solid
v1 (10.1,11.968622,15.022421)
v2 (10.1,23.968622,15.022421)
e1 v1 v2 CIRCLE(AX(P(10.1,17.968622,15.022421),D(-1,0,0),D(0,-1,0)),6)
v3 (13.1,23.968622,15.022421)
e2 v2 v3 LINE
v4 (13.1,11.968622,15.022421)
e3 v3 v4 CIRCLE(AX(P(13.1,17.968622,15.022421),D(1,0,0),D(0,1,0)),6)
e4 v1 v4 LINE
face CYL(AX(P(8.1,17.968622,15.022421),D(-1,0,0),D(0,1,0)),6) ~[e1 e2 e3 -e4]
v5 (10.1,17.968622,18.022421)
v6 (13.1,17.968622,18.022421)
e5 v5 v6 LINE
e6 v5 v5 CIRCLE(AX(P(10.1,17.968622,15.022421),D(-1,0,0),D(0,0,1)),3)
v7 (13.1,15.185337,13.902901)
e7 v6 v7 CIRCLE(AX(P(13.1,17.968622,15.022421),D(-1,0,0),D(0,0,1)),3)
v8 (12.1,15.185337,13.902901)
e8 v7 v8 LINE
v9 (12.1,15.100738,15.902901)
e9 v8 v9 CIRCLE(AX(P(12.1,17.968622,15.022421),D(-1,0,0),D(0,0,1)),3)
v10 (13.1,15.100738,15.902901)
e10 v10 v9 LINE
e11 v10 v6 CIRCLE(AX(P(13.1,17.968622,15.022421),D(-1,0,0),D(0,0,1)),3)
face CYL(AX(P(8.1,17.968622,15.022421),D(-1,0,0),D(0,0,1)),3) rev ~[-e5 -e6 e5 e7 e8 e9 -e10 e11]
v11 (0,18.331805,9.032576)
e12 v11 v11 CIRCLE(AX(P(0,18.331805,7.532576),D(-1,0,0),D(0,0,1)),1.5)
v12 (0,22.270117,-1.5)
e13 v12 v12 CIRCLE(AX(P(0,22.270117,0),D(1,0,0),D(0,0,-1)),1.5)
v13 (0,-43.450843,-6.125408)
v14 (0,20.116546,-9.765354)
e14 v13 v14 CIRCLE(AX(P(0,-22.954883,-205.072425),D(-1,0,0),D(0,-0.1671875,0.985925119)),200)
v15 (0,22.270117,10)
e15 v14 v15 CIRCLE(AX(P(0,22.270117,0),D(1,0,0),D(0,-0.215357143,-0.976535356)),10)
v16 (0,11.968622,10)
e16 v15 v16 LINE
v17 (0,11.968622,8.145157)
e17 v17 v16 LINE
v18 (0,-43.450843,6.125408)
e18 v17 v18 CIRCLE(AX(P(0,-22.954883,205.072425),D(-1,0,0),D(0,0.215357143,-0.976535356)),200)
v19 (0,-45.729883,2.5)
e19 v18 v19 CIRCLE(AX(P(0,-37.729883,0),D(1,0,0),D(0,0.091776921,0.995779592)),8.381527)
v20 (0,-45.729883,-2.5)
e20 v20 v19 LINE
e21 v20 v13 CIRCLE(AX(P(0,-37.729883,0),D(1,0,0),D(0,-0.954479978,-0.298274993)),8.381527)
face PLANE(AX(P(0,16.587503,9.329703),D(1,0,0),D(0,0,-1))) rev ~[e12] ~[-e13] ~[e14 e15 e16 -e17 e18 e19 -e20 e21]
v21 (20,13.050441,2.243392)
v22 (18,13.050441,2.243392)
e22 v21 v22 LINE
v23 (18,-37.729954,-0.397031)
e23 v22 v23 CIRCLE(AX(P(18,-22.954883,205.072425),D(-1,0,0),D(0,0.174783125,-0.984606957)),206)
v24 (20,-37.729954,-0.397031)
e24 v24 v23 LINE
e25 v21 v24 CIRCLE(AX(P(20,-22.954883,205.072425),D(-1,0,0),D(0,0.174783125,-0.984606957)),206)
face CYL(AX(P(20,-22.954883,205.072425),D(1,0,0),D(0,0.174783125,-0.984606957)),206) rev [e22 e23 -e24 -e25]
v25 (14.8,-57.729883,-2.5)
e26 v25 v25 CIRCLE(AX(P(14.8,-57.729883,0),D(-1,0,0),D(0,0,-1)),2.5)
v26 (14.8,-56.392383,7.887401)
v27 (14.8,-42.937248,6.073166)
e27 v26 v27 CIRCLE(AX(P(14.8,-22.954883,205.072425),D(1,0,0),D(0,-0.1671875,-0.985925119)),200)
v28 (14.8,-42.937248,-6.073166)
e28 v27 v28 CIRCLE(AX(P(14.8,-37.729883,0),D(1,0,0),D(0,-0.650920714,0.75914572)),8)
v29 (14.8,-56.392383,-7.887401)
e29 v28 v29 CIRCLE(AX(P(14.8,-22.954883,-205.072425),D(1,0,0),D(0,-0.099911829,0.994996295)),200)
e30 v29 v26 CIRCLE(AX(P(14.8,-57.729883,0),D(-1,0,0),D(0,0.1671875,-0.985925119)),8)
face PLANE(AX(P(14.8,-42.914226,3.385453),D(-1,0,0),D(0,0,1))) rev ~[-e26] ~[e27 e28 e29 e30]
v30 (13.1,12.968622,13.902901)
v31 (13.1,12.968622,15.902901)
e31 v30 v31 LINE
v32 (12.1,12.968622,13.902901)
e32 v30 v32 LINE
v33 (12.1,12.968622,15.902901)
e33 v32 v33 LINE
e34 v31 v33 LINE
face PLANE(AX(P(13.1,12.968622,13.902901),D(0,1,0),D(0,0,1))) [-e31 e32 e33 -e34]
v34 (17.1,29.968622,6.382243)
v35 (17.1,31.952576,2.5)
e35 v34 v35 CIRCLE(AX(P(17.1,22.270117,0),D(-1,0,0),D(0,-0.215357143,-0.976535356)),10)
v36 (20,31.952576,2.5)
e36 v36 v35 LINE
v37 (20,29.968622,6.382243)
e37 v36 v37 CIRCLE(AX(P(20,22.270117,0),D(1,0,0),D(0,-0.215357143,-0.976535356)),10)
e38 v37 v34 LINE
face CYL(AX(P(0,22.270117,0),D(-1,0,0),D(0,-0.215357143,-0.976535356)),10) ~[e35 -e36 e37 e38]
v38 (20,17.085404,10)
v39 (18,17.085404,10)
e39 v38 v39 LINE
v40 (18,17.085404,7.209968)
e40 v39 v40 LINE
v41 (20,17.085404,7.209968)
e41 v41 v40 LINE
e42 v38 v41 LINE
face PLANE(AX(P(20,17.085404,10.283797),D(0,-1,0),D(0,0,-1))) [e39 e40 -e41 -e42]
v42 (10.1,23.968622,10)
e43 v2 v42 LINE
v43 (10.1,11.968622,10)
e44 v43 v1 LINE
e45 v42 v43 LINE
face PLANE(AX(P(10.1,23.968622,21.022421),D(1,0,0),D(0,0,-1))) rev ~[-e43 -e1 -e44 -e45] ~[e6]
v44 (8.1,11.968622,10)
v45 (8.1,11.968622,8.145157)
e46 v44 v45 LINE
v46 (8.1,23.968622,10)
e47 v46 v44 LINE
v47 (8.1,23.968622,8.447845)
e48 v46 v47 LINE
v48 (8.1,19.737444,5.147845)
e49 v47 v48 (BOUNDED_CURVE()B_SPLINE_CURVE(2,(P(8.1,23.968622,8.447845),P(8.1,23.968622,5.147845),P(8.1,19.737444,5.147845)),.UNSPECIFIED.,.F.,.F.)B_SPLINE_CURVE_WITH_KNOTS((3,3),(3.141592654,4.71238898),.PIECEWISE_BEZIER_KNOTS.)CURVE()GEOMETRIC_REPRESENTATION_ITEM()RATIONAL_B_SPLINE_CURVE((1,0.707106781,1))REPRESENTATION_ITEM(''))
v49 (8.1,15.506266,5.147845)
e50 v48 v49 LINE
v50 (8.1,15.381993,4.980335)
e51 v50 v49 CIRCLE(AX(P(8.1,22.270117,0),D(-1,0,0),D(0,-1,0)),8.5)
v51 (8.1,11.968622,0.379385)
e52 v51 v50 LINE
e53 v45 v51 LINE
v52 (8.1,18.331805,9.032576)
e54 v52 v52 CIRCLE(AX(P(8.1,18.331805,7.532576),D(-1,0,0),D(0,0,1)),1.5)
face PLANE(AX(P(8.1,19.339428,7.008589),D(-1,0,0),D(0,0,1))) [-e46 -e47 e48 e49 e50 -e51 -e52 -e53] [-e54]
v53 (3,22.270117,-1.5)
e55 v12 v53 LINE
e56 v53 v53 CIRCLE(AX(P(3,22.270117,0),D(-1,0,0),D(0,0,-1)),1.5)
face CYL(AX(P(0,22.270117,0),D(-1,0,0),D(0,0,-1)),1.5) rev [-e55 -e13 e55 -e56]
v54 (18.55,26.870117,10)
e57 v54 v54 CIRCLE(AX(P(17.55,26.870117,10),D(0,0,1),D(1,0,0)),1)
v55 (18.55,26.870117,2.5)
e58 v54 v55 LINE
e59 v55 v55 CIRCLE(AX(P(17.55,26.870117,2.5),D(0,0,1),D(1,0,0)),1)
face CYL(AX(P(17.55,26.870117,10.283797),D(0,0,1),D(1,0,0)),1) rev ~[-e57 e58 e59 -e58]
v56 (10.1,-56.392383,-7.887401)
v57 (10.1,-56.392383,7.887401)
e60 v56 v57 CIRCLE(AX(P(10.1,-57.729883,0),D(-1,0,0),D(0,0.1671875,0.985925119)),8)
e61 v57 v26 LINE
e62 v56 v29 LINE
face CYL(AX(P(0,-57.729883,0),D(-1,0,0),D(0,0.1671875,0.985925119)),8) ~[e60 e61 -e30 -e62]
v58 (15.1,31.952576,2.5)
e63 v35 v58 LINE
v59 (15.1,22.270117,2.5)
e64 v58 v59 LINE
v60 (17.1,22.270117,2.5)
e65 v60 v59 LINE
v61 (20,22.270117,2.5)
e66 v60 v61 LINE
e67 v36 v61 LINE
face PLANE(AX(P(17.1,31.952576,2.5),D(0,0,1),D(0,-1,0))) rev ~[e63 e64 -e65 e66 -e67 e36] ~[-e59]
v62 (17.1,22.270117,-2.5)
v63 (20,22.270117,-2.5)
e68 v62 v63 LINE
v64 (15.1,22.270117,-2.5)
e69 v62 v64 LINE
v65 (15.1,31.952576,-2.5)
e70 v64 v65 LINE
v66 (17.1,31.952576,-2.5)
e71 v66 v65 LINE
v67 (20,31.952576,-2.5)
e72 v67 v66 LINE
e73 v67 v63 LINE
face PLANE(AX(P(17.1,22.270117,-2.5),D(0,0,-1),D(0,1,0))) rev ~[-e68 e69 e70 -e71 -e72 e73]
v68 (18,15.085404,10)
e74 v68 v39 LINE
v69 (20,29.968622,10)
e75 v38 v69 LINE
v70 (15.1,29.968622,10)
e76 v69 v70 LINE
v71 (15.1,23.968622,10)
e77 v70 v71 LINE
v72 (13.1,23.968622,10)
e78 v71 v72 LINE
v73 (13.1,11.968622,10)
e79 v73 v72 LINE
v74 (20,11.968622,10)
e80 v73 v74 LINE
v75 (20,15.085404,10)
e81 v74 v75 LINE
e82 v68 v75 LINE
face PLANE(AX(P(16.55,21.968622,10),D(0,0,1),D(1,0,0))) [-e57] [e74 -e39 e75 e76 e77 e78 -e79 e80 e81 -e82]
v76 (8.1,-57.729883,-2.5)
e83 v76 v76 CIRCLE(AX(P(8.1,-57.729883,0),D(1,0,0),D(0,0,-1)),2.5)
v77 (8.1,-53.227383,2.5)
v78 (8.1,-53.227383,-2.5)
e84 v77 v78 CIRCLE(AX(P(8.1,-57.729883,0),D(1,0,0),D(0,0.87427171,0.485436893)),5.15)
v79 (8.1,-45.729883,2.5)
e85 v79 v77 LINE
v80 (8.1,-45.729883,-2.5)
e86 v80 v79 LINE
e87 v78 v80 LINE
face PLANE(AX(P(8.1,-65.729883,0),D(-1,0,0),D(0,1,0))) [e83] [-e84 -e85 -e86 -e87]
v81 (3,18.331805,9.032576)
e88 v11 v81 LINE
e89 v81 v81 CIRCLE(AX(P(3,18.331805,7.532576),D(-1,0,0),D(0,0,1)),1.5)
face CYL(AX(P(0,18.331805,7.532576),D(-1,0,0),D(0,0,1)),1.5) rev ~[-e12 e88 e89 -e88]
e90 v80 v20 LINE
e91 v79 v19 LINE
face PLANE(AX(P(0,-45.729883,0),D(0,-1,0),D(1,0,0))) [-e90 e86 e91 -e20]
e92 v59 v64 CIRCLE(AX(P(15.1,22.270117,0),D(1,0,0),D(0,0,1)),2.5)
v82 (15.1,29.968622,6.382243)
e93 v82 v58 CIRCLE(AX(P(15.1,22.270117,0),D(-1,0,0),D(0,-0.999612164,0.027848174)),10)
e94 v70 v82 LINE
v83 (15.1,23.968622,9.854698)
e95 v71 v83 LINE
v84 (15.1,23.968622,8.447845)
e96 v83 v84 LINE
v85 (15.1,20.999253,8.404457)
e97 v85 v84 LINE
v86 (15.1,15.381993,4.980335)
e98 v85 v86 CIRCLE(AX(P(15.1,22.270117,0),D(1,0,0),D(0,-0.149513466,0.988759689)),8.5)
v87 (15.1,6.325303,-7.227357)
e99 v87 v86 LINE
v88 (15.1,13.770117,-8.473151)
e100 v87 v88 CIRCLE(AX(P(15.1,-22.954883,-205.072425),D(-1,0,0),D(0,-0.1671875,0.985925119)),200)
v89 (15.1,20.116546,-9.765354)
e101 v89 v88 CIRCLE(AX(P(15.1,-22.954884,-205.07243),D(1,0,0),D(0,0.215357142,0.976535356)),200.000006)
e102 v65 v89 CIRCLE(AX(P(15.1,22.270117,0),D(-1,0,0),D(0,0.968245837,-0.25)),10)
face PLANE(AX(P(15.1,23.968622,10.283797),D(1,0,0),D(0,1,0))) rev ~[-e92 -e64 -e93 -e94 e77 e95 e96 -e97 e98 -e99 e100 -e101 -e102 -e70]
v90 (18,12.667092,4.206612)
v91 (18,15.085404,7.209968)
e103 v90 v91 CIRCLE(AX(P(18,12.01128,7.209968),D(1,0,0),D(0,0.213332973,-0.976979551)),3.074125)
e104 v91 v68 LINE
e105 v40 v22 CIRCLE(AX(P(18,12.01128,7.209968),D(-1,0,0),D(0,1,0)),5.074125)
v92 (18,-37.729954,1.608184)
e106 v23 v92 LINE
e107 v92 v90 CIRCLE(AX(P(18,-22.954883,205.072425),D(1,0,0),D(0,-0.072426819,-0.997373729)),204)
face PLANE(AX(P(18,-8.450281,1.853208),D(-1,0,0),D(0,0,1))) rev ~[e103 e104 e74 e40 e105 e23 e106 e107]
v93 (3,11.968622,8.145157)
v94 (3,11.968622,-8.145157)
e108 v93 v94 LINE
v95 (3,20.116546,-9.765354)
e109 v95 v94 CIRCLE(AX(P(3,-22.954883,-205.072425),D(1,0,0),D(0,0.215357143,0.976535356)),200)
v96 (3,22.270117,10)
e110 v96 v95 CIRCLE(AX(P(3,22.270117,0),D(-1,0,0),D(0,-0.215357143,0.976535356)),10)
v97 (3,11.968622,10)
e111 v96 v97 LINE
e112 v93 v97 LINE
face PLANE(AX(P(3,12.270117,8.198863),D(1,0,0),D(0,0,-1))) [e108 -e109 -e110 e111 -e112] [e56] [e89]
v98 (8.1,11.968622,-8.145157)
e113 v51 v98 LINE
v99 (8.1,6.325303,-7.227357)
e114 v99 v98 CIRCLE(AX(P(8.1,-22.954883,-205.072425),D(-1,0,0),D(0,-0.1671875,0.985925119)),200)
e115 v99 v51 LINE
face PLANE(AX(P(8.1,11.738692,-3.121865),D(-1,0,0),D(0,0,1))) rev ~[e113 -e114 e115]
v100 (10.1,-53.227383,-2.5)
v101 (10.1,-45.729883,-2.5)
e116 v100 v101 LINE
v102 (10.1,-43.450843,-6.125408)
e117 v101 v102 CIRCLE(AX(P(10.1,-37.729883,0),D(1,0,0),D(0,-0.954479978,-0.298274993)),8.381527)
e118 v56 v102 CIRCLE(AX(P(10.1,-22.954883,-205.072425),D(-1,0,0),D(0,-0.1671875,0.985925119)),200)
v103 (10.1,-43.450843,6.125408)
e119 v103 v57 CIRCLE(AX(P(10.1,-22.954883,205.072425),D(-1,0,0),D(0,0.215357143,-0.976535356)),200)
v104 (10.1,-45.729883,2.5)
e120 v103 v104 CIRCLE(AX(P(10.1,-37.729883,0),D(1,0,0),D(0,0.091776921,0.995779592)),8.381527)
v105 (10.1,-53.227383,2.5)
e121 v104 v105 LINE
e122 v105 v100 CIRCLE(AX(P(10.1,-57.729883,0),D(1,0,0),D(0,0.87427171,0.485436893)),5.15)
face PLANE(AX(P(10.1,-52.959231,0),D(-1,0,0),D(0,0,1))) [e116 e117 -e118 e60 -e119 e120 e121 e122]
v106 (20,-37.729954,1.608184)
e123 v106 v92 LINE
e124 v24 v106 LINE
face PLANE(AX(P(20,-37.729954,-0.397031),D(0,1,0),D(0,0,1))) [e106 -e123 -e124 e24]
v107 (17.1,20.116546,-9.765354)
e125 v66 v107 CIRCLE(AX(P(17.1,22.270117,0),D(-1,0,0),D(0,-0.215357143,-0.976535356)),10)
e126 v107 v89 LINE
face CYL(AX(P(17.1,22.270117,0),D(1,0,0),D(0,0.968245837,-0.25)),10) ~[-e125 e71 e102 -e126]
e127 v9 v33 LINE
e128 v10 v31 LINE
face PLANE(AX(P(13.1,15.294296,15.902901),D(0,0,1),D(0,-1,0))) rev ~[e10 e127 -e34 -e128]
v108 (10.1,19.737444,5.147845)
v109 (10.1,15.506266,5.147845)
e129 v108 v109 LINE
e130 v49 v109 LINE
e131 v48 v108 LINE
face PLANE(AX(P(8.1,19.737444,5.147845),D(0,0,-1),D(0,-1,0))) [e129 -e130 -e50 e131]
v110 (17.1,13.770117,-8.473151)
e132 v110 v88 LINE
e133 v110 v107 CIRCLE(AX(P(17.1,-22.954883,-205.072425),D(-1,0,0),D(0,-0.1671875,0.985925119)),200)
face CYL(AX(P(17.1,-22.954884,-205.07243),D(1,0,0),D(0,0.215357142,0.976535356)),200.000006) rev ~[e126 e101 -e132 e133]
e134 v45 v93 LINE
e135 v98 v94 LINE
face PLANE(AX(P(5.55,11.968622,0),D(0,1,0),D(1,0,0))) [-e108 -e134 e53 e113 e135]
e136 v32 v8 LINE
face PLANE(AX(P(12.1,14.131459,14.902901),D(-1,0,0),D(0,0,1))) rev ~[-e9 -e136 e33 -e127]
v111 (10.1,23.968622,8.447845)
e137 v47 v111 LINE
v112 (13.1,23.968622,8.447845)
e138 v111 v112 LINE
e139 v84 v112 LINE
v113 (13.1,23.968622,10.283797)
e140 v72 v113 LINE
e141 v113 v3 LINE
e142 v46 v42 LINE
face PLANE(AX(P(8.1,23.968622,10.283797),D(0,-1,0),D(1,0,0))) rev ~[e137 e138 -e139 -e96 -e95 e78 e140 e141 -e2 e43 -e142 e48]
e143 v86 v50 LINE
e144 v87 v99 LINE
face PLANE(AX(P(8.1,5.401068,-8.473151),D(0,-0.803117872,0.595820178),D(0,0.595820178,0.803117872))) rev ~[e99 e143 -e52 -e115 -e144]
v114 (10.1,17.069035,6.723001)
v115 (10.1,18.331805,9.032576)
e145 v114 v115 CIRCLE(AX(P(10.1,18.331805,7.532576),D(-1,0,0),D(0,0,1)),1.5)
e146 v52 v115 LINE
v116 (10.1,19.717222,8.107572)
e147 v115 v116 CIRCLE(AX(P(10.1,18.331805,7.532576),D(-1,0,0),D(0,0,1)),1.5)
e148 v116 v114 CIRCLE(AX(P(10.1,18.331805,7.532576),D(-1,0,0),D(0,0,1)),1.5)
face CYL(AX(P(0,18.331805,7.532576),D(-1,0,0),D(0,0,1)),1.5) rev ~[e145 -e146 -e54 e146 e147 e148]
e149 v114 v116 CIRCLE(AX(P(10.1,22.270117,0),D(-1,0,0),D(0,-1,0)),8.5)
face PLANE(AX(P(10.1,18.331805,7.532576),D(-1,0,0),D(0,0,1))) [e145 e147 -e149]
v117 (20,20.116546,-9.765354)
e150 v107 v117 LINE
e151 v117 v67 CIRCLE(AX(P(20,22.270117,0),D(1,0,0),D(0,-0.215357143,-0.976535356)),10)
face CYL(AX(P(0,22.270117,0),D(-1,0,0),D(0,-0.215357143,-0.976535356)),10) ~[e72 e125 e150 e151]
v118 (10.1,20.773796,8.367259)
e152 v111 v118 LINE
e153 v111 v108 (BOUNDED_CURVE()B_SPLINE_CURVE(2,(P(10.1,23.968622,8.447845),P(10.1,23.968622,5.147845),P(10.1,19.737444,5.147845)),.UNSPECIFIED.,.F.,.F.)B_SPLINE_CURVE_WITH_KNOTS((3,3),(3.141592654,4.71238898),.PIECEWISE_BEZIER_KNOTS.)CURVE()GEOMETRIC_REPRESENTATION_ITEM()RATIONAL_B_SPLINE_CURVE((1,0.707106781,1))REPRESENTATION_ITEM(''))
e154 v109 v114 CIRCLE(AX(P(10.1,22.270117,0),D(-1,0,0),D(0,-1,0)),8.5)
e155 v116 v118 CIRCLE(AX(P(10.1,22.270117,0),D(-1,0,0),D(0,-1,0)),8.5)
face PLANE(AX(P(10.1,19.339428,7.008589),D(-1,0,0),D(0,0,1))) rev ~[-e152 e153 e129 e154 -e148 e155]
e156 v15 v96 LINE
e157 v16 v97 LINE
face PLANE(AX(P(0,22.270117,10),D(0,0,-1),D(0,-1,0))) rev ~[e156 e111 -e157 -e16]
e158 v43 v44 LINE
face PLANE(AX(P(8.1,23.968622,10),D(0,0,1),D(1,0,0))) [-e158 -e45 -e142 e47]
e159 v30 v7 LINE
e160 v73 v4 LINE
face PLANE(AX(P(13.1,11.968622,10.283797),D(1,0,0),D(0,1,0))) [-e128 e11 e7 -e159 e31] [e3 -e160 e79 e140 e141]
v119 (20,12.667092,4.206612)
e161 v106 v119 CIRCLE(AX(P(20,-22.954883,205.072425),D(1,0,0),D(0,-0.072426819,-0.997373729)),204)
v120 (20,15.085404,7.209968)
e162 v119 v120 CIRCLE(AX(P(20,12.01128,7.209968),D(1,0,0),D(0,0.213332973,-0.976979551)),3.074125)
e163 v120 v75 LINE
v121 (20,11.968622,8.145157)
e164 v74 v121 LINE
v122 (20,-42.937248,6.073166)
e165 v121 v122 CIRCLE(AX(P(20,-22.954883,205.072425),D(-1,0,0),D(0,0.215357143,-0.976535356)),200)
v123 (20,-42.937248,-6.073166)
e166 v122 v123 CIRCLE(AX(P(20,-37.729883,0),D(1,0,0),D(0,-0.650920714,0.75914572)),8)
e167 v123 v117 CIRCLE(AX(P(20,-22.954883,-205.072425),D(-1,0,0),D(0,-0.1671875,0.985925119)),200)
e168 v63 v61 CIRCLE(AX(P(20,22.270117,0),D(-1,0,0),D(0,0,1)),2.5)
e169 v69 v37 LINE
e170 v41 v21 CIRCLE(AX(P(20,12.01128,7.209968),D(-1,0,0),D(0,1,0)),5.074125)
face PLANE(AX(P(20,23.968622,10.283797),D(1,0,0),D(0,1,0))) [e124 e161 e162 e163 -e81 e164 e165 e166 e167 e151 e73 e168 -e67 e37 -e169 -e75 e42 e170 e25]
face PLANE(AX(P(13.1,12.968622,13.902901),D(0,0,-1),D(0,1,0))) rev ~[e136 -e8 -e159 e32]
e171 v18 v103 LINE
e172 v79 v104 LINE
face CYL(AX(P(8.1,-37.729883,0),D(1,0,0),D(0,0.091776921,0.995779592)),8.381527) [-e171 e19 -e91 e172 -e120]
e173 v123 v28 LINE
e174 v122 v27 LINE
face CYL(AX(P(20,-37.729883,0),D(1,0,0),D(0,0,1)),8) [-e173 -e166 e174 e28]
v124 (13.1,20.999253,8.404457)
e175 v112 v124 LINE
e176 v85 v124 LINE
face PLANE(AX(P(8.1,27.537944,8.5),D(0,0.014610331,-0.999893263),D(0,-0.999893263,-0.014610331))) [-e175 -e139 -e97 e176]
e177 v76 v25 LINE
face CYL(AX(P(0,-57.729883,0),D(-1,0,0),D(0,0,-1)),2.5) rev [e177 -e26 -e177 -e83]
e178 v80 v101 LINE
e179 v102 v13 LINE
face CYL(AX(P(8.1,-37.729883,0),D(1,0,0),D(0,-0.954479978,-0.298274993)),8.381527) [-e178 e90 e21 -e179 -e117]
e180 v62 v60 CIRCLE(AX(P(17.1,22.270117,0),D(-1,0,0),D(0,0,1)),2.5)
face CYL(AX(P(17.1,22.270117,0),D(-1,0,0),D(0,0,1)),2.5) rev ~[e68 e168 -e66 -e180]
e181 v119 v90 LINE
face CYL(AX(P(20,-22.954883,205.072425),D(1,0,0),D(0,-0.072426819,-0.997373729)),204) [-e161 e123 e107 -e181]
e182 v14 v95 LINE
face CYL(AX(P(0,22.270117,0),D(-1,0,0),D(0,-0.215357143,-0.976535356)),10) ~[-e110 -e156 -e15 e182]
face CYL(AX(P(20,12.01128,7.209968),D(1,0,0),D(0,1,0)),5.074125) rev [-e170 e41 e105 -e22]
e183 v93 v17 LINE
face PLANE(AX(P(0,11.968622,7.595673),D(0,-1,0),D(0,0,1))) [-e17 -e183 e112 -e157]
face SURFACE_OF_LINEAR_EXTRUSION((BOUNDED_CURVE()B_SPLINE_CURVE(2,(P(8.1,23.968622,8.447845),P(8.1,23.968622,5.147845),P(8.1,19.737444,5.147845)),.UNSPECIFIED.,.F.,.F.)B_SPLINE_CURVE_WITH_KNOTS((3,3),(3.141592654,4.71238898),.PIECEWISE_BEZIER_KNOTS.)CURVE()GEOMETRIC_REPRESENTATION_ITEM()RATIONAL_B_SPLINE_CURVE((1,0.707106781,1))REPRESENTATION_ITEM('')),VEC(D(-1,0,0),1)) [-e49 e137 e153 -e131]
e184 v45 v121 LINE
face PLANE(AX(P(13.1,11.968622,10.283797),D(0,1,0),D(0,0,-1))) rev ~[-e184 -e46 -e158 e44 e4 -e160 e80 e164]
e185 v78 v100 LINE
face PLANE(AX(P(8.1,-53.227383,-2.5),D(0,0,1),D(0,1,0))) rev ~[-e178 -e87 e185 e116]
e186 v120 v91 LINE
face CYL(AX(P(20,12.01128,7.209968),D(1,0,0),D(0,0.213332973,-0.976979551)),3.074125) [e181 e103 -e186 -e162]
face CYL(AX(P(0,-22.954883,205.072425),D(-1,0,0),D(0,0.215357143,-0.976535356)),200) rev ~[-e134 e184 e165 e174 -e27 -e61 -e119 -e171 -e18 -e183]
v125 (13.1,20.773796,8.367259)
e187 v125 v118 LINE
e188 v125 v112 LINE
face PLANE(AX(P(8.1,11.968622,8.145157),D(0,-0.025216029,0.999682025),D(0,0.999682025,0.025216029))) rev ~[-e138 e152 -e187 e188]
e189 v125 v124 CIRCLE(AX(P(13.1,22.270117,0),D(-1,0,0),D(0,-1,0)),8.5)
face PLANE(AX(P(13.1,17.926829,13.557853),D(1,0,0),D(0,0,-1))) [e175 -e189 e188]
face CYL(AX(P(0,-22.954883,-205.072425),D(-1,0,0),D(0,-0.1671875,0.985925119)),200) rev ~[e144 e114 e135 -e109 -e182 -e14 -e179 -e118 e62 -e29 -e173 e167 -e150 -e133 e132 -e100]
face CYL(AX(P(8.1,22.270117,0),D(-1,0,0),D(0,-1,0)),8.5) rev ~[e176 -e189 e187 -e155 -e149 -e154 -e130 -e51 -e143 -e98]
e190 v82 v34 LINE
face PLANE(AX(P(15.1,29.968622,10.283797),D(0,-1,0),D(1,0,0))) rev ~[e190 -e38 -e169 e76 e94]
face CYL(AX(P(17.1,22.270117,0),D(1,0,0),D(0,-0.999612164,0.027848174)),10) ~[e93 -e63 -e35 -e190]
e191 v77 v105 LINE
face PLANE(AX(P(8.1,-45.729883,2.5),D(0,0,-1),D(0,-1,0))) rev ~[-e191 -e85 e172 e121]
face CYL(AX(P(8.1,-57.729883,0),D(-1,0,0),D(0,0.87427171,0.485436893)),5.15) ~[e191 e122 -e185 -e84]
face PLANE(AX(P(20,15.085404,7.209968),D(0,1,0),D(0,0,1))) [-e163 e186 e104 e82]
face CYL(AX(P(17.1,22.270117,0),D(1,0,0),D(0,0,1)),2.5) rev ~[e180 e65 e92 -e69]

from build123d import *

# Parameters (mm, degrees)
SKETCH1_R                = 1.5
SKETCH1_R_2              = 2.5
BOSS_EXTRUDE1_DEPTH      = 20
SKETCH2_W                = 8.1
SKETCH2_H                = 20
SKETCH2_W_2              = 5.2
SKETCH2_W_3              = 5.1
CUT_EXTRUDE1_DEPTH       = 20
CUT_EXTRUDE1_DEPTH_BACK  = 20
CUT_EXTRUDE2_DEPTH       = 9
BOSS_EXTRUDE2_DEPTH      = 11.9
SKETCH5_R                = 3
BOSS_EXTRUDE3_DEPTH      = 5
CUT_EXTRUDE6_DEPTH       = 1
SKETCH13_R               = 2.5
CUT_EXTRUDE7_DEPTH       = 4
BOSS_EXTRUDE4_DEPTH      = 3
CUT_EXTRUDE9_DEPTH       = 3
SKETCH17_W               = 9
SKETCH17_H               = 3.569322199
CUT_EXTRUDE11_DEPTH      = 3
SKETCH18_W               = 5.770974844
SKETCH18_H               = 0.772936936
BOSS_EXTRUDE5_DEPTH      = 6.9
BOSS_EXTRUDE5_DEPTH_BACK = 1
SKETCH19_W               = 5.1
SKETCH19_H               = 16.397725614
CUT_EXTRUDE12_DEPTH      = 0.301495
SKETCH20_W               = 5
SKETCH20_H               = 12.419235667
CUT_EXTRUDE13_DEPTH      = 10
BOSS_EXTRUDE6_DEPTH      = 2
SKETCH23_W               = 4.9
SKETCH23_H               = 6
BOSS_EXTRUDE7_DEPTH      = 4
SKETCH22_R               = 1
CUT_EXTRUDE15_DEPTH      = 8
BOSS_EXTRUDE8_DEPTH      = 2
SKETCH14_R               = 1.5
CUT_EXTRUDE8_DEPTH       = 10.1
CUT_EXTRUDE17_DEPTH      = 8.1
CUT_EXTRUDE17_DEPTH_BACK = 2
CUT_EXTRUDE18_DEPTH      = 2
CUT_EXTRUDE20_DEPTH      = 5.2
SKETCH30_W               = 6.9
SKETCH30_H               = 20
CUT_EXTRUDE21_DEPTH      = 0.283797
CUT_EXTRUDE22_REACH      = 91.699
SKETCH31_W               = 2
SKETCH31_H               = 11.022421386
CUT_EXTRUDE23_DEPTH      = 7


with BuildPart() as part:
    # Sketch1 → Boss-Extrude1 (new body)
    with BuildSketch(Plane(origin=(0, 0, 0), x_dir=(0, 0, -1), z_dir=(1, 0, 0))):
        with BuildLine():
            ThreePointArc((9.765353557, 20.116545894), (0, 32.270117322), (-9.765353557, 20.116545894))
            ThreePointArc((-9.765353557, 20.116545894), (-5.132645827, -18.047253777), (-7.88740095, -56.392382678))
            ThreePointArc((-7.88740095, -56.392382678), (0, -65.729882678), (7.88740095, -56.392382678))
            ThreePointArc((7.88740095, -56.392382678), (5.132645827, -18.047253777), (9.765353557, 20.116545894))
        make_face()
        with Locations((0, 22.270117322)):
            Circle(SKETCH1_R, mode=Mode.SUBTRACT)
        with Locations((0, -57.729882678)):
            Circle(SKETCH1_R_2, mode=Mode.SUBTRACT)
    extrude(amount=BOSS_EXTRUDE1_DEPTH)

    # Sketch2 → Cut-Extrude1 (cut, two sides)
    with BuildSketch(Plane.XY) as cut_extrude1_sk:
        with Locations((4.05, -55.729882678)):
            Rectangle(SKETCH2_W, SKETCH2_H)
        with Locations((17.4, -55.729882678)):
            Rectangle(SKETCH2_W_2, SKETCH2_H)
        with Locations((5.55, 22.270117322)):
            Rectangle(SKETCH2_W_3, SKETCH2_H)
    extrude(amount=CUT_EXTRUDE1_DEPTH, mode=Mode.SUBTRACT)
    extrude(cut_extrude1_sk.sketch, amount=-CUT_EXTRUDE1_DEPTH_BACK, mode=Mode.SUBTRACT)

    # Sketch3 → Cut-Extrude2 (cut)
    with BuildSketch(Plane.ZY.offset(-8.1)):
        with BuildLine():
            Line((8.5, 22.270117322), (8.5, 40.909533312))
            Line((8.5, 40.909533312), (-17.52872033, 40.909533312))
            Line((-17.52872033, 40.909533312), (-17.52872033, 13.770117322))
            Line((-17.52872033, 13.770117322), (0, 13.770117322))
            ThreePointArc((0, 13.770117322), (6.01040764, 16.259709682), (8.5, 22.270117322))
        make_face()
    extrude(amount=-CUT_EXTRUDE2_DEPTH, mode=Mode.SUBTRACT)

    # Sketch4 → Boss-Extrude2 (add, through all)
    with BuildSketch(Plane.ZY.offset(-8.1)):
        Polygon((8.5, 27.537944199), (8.283796844, 12.741558936), (10.283796844, 12.741558936), (10.283796844, 27.537944199), align=None)
    extrude(amount=-BOSS_EXTRUDE2_DEPTH)

    # Sketch5 → Boss-Extrude3 (add)
    with BuildSketch(Plane.ZY.offset(-8.1)):
        with BuildLine():
            Line((8.145156861, 11.968622), (8.447845456, 23.968622))
            Line((8.447845456, 23.968622), (9.854698466, 23.968622))
            Line((9.854698466, 23.968622), (15.022421386, 23.968622))
            ThreePointArc((15.022421386, 23.968622), (21.022421386, 17.968622), (15.022421386, 11.968622))
            Line((15.022421386, 11.968622), (8.145156861, 11.968622))
        make_face()
        with Locations((15.022421386, 17.968622)):
            Circle(SKETCH5_R, mode=Mode.SUBTRACT)
    extrude(amount=-BOSS_EXTRUDE3_DEPTH)

    # Sketch12 → Cut-Extrude6 (cut)
    with BuildSketch(Plane(origin=(13.1, 0, 0), x_dir=(0, 0, -1), z_dir=(1, 0, 0))):
        Polygon((-13.902900694, 14.968622), (-13.902900694, 12.968622), (-15.902900694, 12.968622), (-15.902900694, 14.968622), (-15.902900694, 15.294296094), (-13.902900694, 15.294296094), align=None)
    extrude(amount=-CUT_EXTRUDE6_DEPTH, mode=Mode.SUBTRACT)

    # Sketch13 → Cut-Extrude7 (cut)
    with BuildSketch(Plane.ZY.offset(-17.1)):
        with Locations((0, 22.270117322)):
            Circle(SKETCH13_R)
    extrude(amount=-CUT_EXTRUDE7_DEPTH, mode=Mode.SUBTRACT)

    # Sketch15 → Boss-Extrude4 (add)
    with BuildSketch(Plane.ZY):
        Polygon((10, 22.270117322), (10, 11.968622), (8.145156861, 11.968622), (7.595672539, 11.968622), align=None)
    extrude(amount=-BOSS_EXTRUDE4_DEPTH)

    # Sketch16 → Cut-Extrude9 (cut)
    with BuildSketch(Plane(origin=(20, 0, 0), x_dir=(0, 0, -1), z_dir=(1, 0, 0))):
        with BuildLine():
            Line((-10.283796844, 23.968622), (-9.854698466, 23.968622))
            ThreePointArc((-9.854698466, 23.968622), (-9.349264901, 25.818531871), (-8.5, 27.537944199))
            Line((-8.5, 27.537944199), (-10.283796844, 27.537944199))
            Line((-10.283796844, 27.537944199), (-10.283796844, 23.968622))
        make_face()
    extrude(amount=-CUT_EXTRUDE9_DEPTH, mode=Mode.SUBTRACT)

    # Sketch17 → Cut-Extrude11 (cut)
    with BuildSketch(Plane.XY.offset(10.283796844)):
        with Locations((12.6, 25.7532831)):
            Rectangle(SKETCH17_W, SKETCH17_H)
    extrude(amount=-CUT_EXTRUDE11_DEPTH, mode=Mode.SUBTRACT)

    # Sketch18 → Boss-Extrude5 (add, two sides)
    with BuildSketch(Plane(origin=(13.1, 0, 0), x_dir=(0, 0, -1), z_dir=(1, 0, 0))) as boss_extrude5_sk:
        with Locations((-7.398309422, 12.355090468)):
            Rectangle(SKETCH18_W, SKETCH18_H)
    extrude(amount=BOSS_EXTRUDE5_DEPTH)
    extrude(boss_extrude5_sk.sketch, amount=-BOSS_EXTRUDE5_DEPTH_BACK)

    # Sketch19 → Cut-Extrude12 (cut)
    with BuildSketch(Plane(origin=(0, 12.270117322, 0), x_dir=(1, 0, 0), z_dir=(0, 1, 0))):
        with Locations((5.55, 0)):
            Rectangle(SKETCH19_W, SKETCH19_H)
    extrude(amount=-CUT_EXTRUDE12_DEPTH, mode=Mode.SUBTRACT)

    # Sketch20 → Cut-Extrude13 (cut)
    with BuildSketch(Plane.ZY.offset(-17.1)):
        with Locations((0, 28.479735156)):
            Rectangle(SKETCH20_W, SKETCH20_H)
    extrude(amount=-CUT_EXTRUDE13_DEPTH, mode=Mode.SUBTRACT)

    # Sketch21 → Boss-Extrude6 (add)
    with BuildSketch(Plane.ZY.offset(-17.1)):
        with BuildLine():
            Line((-8.473151119, 13.770117322), (0.278481736, 12.273995678))
            ThreePointArc((0.278481736, 12.273995678), (9.936881703, 21.148341047), (2.5, 31.952575688))
            Line((2.5, 31.952575688), (2.5, 22.270117322))
            ThreePointArc((2.5, 22.270117322), (0, 19.770117322), (-2.5, 22.270117322))
            Line((-2.5, 22.270117322), (-2.5, 31.952575688))
            ThreePointArc((-2.5, 31.952575688), (-8.522477621, 27.501501002), (-9.765353557, 20.116545894))
            ThreePointArc((-9.765353557, 20.116545894), (-9.093560923, 16.948562662), (-8.473151119, 13.770117322))
        make_face()
    extrude(amount=BOSS_EXTRUDE6_DEPTH)

    # Sketch23 → Boss-Extrude7 (add)
    with BuildSketch(Plane.XY.offset(10.283796844)):
        with Locations((17.55, 26.968622)):
            Rectangle(SKETCH23_W, SKETCH23_H)
    extrude(amount=-BOSS_EXTRUDE7_DEPTH)

    # Sketch22 → Cut-Extrude15 (cut)
    with BuildSketch(Plane.XY.offset(10.283796844)):
        with Locations((17.55, 26.870117322)):
            Circle(SKETCH22_R)
    extrude(amount=-CUT_EXTRUDE15_DEPTH, mode=Mode.SUBTRACT)

    # Sketch24 → Boss-Extrude8 (add)
    with BuildSketch(Plane.ZY.offset(-8.1)):
        with BuildLine():
            Line((5.147845456, 19.737443909), (5.147845456, 15.506265819))
            Line((5.147845456, 15.506265819), (8.447845456, 15.506265819))
            Line((8.447845456, 15.506265819), (8.447845456, 23.968622))
            add(Edge.make_bspline(
                [(8.447845456, 23.968622), (5.147845456, 23.968622), (5.147845456, 19.737443909)],
                knots=[3.141592654, 3.141592654, 3.141592654, 4.71238898, 4.71238898, 4.71238898], degree=2, weights=[1, 0.707106781, 1]))
        make_face()
    extrude(amount=-BOSS_EXTRUDE8_DEPTH)

    # Sketch14 → Cut-Extrude8 (cut)
    with BuildSketch(Plane.ZY):
        with Locations((7.532575614, 18.331804915)):
            Circle(SKETCH14_R)
    extrude(amount=-CUT_EXTRUDE8_DEPTH, mode=Mode.SUBTRACT)

    # Sketch25 → Cut-Extrude17 (cut, two sides)
    with BuildSketch(Plane.ZY.offset(-8.1)) as cut_extrude17_sk:
        with BuildLine():
            Line((12, -45.729882678), (8.346153846, -36.960651908))
            ThreePointArc((8.346153846, -36.960651908), (6.973852263, -42.37911752), (2.5, -45.729882678))
            Line((2.5, -45.729882678), (2.5, -53.227383372))
            ThreePointArc((2.5, -53.227383372), (0, -62.879882678), (-2.5, -53.227383372))
            Line((-2.5, -53.227383372), (-2.5, -45.729882678))
            ThreePointArc((-2.5, -45.729882678), (-6.973852263, -42.37911752), (-8.346153846, -36.960651908))
            Line((-8.346153846, -36.960651908), (-12, -45.729882678))
            Line((-12, -45.729882678), (-12, -57.729882678))
            ThreePointArc((-12, -57.729882678), (0, -69.729882678), (12, -57.729882678))
            Line((12, -57.729882678), (12, -45.729882678))
        make_face()
    extrude(amount=CUT_EXTRUDE17_DEPTH, mode=Mode.SUBTRACT)
    extrude(cut_extrude17_sk.sketch, amount=-CUT_EXTRUDE17_DEPTH_BACK, mode=Mode.SUBTRACT)

    # Sketch26 → Cut-Extrude18 (cut)
    with BuildSketch(Plane(origin=(20, 0, 0), x_dir=(0, 0, -1), z_dir=(1, 0, 0))):
        with BuildLine():
            Line((-7.209968303, 15.085404497), (-10.283796844, 15.085404497))
            Line((-10.283796844, 15.085404497), (-10.283796844, 17.085404497))
            Line((-10.283796844, 17.085404497), (-7.209968303, 17.085404497))
            ThreePointArc((-7.209968303, 17.085404497), (-4.010444351, 15.949526558), (-2.243391617, 13.050441039))
            ThreePointArc((-2.243391617, 13.050441039), (0.649659998, -12.257973546), (0.397031114, -37.729953741))
            Line((0.397031114, -37.729953741), (-1.608183929, -37.729953741))
            ThreePointArc((-1.608183929, -37.729953741), (-1.343036313, -12.450773719), (-4.206611504, 12.667092093))
            ThreePointArc((-4.206611504, 12.667092093), (-5.281990934, 14.405678614), (-7.209968303, 15.085404497))
        make_face()
    extrude(amount=-CUT_EXTRUDE18_DEPTH, mode=Mode.SUBTRACT)

    # Sketch29 → Cut-Extrude20 (cut)
    with BuildSketch(Plane(origin=(20, 0, 0), x_dir=(0, 0, -1), z_dir=(1, 0, 0))):
        with BuildLine():
            Line((8, -37.729882678), (8.140336581, -37.729882678))
            Line((8.140336581, -37.729882678), (8.140336581, -45.937498976))
            Line((8.140336581, -45.937498976), (-15.754893946, -45.937498976))
            Line((-15.754893946, -45.937498976), (-15.754893946, -37.729882678))
            Line((-15.754893946, -37.729882678), (-8, -37.729882678))
            ThreePointArc((-8, -37.729882678), (0, -45.729882678), (8, -37.729882678))
        make_face()
    extrude(amount=-CUT_EXTRUDE20_DEPTH, mode=Mode.SUBTRACT)

    # Sketch30 → Cut-Extrude21 (cut)
    with BuildSketch(Plane.XY.offset(10.283796844)):
        with Locations((16.55, 21.968622)):
            Rectangle(SKETCH30_W, SKETCH30_H)
    extrude(amount=-CUT_EXTRUDE21_DEPTH, mode=Mode.SUBTRACT)

    # Sketch31 → Cut-Extrude22 (cut, up to next)
    with BuildSketch(Plane(origin=(0, 23.968622, 0), x_dir=(1, 0, 0), z_dir=(0, 1, 0)), mode=Mode.PRIVATE) as cut_extrude22_sk1:
        with Locations((9.1, -15.511210693)):
            Rectangle(SKETCH31_W, SKETCH31_H)
    cut_extrude22_tool1 = extrude(cut_extrude22_sk1.sketch, amount=-CUT_EXTRUDE22_REACH, mode=Mode.PRIVATE) & part.part
    add(cut_extrude22_tool1.solids().sort_by_distance((9.1, 23.968622, 15.511211))[0], mode=Mode.SUBTRACT)

    # Sketch32 → Cut-Extrude23 (cut)
    with BuildSketch(Plane.ZY.offset(-8.1)):
        Polygon((-8.473151119, 13.770117322), (-8.473151119, 5.401068454), (5.147845456, 15.506265819), align=None)
    extrude(amount=-CUT_EXTRUDE23_DEPTH, mode=Mode.SUBTRACT)


solid = part.part
